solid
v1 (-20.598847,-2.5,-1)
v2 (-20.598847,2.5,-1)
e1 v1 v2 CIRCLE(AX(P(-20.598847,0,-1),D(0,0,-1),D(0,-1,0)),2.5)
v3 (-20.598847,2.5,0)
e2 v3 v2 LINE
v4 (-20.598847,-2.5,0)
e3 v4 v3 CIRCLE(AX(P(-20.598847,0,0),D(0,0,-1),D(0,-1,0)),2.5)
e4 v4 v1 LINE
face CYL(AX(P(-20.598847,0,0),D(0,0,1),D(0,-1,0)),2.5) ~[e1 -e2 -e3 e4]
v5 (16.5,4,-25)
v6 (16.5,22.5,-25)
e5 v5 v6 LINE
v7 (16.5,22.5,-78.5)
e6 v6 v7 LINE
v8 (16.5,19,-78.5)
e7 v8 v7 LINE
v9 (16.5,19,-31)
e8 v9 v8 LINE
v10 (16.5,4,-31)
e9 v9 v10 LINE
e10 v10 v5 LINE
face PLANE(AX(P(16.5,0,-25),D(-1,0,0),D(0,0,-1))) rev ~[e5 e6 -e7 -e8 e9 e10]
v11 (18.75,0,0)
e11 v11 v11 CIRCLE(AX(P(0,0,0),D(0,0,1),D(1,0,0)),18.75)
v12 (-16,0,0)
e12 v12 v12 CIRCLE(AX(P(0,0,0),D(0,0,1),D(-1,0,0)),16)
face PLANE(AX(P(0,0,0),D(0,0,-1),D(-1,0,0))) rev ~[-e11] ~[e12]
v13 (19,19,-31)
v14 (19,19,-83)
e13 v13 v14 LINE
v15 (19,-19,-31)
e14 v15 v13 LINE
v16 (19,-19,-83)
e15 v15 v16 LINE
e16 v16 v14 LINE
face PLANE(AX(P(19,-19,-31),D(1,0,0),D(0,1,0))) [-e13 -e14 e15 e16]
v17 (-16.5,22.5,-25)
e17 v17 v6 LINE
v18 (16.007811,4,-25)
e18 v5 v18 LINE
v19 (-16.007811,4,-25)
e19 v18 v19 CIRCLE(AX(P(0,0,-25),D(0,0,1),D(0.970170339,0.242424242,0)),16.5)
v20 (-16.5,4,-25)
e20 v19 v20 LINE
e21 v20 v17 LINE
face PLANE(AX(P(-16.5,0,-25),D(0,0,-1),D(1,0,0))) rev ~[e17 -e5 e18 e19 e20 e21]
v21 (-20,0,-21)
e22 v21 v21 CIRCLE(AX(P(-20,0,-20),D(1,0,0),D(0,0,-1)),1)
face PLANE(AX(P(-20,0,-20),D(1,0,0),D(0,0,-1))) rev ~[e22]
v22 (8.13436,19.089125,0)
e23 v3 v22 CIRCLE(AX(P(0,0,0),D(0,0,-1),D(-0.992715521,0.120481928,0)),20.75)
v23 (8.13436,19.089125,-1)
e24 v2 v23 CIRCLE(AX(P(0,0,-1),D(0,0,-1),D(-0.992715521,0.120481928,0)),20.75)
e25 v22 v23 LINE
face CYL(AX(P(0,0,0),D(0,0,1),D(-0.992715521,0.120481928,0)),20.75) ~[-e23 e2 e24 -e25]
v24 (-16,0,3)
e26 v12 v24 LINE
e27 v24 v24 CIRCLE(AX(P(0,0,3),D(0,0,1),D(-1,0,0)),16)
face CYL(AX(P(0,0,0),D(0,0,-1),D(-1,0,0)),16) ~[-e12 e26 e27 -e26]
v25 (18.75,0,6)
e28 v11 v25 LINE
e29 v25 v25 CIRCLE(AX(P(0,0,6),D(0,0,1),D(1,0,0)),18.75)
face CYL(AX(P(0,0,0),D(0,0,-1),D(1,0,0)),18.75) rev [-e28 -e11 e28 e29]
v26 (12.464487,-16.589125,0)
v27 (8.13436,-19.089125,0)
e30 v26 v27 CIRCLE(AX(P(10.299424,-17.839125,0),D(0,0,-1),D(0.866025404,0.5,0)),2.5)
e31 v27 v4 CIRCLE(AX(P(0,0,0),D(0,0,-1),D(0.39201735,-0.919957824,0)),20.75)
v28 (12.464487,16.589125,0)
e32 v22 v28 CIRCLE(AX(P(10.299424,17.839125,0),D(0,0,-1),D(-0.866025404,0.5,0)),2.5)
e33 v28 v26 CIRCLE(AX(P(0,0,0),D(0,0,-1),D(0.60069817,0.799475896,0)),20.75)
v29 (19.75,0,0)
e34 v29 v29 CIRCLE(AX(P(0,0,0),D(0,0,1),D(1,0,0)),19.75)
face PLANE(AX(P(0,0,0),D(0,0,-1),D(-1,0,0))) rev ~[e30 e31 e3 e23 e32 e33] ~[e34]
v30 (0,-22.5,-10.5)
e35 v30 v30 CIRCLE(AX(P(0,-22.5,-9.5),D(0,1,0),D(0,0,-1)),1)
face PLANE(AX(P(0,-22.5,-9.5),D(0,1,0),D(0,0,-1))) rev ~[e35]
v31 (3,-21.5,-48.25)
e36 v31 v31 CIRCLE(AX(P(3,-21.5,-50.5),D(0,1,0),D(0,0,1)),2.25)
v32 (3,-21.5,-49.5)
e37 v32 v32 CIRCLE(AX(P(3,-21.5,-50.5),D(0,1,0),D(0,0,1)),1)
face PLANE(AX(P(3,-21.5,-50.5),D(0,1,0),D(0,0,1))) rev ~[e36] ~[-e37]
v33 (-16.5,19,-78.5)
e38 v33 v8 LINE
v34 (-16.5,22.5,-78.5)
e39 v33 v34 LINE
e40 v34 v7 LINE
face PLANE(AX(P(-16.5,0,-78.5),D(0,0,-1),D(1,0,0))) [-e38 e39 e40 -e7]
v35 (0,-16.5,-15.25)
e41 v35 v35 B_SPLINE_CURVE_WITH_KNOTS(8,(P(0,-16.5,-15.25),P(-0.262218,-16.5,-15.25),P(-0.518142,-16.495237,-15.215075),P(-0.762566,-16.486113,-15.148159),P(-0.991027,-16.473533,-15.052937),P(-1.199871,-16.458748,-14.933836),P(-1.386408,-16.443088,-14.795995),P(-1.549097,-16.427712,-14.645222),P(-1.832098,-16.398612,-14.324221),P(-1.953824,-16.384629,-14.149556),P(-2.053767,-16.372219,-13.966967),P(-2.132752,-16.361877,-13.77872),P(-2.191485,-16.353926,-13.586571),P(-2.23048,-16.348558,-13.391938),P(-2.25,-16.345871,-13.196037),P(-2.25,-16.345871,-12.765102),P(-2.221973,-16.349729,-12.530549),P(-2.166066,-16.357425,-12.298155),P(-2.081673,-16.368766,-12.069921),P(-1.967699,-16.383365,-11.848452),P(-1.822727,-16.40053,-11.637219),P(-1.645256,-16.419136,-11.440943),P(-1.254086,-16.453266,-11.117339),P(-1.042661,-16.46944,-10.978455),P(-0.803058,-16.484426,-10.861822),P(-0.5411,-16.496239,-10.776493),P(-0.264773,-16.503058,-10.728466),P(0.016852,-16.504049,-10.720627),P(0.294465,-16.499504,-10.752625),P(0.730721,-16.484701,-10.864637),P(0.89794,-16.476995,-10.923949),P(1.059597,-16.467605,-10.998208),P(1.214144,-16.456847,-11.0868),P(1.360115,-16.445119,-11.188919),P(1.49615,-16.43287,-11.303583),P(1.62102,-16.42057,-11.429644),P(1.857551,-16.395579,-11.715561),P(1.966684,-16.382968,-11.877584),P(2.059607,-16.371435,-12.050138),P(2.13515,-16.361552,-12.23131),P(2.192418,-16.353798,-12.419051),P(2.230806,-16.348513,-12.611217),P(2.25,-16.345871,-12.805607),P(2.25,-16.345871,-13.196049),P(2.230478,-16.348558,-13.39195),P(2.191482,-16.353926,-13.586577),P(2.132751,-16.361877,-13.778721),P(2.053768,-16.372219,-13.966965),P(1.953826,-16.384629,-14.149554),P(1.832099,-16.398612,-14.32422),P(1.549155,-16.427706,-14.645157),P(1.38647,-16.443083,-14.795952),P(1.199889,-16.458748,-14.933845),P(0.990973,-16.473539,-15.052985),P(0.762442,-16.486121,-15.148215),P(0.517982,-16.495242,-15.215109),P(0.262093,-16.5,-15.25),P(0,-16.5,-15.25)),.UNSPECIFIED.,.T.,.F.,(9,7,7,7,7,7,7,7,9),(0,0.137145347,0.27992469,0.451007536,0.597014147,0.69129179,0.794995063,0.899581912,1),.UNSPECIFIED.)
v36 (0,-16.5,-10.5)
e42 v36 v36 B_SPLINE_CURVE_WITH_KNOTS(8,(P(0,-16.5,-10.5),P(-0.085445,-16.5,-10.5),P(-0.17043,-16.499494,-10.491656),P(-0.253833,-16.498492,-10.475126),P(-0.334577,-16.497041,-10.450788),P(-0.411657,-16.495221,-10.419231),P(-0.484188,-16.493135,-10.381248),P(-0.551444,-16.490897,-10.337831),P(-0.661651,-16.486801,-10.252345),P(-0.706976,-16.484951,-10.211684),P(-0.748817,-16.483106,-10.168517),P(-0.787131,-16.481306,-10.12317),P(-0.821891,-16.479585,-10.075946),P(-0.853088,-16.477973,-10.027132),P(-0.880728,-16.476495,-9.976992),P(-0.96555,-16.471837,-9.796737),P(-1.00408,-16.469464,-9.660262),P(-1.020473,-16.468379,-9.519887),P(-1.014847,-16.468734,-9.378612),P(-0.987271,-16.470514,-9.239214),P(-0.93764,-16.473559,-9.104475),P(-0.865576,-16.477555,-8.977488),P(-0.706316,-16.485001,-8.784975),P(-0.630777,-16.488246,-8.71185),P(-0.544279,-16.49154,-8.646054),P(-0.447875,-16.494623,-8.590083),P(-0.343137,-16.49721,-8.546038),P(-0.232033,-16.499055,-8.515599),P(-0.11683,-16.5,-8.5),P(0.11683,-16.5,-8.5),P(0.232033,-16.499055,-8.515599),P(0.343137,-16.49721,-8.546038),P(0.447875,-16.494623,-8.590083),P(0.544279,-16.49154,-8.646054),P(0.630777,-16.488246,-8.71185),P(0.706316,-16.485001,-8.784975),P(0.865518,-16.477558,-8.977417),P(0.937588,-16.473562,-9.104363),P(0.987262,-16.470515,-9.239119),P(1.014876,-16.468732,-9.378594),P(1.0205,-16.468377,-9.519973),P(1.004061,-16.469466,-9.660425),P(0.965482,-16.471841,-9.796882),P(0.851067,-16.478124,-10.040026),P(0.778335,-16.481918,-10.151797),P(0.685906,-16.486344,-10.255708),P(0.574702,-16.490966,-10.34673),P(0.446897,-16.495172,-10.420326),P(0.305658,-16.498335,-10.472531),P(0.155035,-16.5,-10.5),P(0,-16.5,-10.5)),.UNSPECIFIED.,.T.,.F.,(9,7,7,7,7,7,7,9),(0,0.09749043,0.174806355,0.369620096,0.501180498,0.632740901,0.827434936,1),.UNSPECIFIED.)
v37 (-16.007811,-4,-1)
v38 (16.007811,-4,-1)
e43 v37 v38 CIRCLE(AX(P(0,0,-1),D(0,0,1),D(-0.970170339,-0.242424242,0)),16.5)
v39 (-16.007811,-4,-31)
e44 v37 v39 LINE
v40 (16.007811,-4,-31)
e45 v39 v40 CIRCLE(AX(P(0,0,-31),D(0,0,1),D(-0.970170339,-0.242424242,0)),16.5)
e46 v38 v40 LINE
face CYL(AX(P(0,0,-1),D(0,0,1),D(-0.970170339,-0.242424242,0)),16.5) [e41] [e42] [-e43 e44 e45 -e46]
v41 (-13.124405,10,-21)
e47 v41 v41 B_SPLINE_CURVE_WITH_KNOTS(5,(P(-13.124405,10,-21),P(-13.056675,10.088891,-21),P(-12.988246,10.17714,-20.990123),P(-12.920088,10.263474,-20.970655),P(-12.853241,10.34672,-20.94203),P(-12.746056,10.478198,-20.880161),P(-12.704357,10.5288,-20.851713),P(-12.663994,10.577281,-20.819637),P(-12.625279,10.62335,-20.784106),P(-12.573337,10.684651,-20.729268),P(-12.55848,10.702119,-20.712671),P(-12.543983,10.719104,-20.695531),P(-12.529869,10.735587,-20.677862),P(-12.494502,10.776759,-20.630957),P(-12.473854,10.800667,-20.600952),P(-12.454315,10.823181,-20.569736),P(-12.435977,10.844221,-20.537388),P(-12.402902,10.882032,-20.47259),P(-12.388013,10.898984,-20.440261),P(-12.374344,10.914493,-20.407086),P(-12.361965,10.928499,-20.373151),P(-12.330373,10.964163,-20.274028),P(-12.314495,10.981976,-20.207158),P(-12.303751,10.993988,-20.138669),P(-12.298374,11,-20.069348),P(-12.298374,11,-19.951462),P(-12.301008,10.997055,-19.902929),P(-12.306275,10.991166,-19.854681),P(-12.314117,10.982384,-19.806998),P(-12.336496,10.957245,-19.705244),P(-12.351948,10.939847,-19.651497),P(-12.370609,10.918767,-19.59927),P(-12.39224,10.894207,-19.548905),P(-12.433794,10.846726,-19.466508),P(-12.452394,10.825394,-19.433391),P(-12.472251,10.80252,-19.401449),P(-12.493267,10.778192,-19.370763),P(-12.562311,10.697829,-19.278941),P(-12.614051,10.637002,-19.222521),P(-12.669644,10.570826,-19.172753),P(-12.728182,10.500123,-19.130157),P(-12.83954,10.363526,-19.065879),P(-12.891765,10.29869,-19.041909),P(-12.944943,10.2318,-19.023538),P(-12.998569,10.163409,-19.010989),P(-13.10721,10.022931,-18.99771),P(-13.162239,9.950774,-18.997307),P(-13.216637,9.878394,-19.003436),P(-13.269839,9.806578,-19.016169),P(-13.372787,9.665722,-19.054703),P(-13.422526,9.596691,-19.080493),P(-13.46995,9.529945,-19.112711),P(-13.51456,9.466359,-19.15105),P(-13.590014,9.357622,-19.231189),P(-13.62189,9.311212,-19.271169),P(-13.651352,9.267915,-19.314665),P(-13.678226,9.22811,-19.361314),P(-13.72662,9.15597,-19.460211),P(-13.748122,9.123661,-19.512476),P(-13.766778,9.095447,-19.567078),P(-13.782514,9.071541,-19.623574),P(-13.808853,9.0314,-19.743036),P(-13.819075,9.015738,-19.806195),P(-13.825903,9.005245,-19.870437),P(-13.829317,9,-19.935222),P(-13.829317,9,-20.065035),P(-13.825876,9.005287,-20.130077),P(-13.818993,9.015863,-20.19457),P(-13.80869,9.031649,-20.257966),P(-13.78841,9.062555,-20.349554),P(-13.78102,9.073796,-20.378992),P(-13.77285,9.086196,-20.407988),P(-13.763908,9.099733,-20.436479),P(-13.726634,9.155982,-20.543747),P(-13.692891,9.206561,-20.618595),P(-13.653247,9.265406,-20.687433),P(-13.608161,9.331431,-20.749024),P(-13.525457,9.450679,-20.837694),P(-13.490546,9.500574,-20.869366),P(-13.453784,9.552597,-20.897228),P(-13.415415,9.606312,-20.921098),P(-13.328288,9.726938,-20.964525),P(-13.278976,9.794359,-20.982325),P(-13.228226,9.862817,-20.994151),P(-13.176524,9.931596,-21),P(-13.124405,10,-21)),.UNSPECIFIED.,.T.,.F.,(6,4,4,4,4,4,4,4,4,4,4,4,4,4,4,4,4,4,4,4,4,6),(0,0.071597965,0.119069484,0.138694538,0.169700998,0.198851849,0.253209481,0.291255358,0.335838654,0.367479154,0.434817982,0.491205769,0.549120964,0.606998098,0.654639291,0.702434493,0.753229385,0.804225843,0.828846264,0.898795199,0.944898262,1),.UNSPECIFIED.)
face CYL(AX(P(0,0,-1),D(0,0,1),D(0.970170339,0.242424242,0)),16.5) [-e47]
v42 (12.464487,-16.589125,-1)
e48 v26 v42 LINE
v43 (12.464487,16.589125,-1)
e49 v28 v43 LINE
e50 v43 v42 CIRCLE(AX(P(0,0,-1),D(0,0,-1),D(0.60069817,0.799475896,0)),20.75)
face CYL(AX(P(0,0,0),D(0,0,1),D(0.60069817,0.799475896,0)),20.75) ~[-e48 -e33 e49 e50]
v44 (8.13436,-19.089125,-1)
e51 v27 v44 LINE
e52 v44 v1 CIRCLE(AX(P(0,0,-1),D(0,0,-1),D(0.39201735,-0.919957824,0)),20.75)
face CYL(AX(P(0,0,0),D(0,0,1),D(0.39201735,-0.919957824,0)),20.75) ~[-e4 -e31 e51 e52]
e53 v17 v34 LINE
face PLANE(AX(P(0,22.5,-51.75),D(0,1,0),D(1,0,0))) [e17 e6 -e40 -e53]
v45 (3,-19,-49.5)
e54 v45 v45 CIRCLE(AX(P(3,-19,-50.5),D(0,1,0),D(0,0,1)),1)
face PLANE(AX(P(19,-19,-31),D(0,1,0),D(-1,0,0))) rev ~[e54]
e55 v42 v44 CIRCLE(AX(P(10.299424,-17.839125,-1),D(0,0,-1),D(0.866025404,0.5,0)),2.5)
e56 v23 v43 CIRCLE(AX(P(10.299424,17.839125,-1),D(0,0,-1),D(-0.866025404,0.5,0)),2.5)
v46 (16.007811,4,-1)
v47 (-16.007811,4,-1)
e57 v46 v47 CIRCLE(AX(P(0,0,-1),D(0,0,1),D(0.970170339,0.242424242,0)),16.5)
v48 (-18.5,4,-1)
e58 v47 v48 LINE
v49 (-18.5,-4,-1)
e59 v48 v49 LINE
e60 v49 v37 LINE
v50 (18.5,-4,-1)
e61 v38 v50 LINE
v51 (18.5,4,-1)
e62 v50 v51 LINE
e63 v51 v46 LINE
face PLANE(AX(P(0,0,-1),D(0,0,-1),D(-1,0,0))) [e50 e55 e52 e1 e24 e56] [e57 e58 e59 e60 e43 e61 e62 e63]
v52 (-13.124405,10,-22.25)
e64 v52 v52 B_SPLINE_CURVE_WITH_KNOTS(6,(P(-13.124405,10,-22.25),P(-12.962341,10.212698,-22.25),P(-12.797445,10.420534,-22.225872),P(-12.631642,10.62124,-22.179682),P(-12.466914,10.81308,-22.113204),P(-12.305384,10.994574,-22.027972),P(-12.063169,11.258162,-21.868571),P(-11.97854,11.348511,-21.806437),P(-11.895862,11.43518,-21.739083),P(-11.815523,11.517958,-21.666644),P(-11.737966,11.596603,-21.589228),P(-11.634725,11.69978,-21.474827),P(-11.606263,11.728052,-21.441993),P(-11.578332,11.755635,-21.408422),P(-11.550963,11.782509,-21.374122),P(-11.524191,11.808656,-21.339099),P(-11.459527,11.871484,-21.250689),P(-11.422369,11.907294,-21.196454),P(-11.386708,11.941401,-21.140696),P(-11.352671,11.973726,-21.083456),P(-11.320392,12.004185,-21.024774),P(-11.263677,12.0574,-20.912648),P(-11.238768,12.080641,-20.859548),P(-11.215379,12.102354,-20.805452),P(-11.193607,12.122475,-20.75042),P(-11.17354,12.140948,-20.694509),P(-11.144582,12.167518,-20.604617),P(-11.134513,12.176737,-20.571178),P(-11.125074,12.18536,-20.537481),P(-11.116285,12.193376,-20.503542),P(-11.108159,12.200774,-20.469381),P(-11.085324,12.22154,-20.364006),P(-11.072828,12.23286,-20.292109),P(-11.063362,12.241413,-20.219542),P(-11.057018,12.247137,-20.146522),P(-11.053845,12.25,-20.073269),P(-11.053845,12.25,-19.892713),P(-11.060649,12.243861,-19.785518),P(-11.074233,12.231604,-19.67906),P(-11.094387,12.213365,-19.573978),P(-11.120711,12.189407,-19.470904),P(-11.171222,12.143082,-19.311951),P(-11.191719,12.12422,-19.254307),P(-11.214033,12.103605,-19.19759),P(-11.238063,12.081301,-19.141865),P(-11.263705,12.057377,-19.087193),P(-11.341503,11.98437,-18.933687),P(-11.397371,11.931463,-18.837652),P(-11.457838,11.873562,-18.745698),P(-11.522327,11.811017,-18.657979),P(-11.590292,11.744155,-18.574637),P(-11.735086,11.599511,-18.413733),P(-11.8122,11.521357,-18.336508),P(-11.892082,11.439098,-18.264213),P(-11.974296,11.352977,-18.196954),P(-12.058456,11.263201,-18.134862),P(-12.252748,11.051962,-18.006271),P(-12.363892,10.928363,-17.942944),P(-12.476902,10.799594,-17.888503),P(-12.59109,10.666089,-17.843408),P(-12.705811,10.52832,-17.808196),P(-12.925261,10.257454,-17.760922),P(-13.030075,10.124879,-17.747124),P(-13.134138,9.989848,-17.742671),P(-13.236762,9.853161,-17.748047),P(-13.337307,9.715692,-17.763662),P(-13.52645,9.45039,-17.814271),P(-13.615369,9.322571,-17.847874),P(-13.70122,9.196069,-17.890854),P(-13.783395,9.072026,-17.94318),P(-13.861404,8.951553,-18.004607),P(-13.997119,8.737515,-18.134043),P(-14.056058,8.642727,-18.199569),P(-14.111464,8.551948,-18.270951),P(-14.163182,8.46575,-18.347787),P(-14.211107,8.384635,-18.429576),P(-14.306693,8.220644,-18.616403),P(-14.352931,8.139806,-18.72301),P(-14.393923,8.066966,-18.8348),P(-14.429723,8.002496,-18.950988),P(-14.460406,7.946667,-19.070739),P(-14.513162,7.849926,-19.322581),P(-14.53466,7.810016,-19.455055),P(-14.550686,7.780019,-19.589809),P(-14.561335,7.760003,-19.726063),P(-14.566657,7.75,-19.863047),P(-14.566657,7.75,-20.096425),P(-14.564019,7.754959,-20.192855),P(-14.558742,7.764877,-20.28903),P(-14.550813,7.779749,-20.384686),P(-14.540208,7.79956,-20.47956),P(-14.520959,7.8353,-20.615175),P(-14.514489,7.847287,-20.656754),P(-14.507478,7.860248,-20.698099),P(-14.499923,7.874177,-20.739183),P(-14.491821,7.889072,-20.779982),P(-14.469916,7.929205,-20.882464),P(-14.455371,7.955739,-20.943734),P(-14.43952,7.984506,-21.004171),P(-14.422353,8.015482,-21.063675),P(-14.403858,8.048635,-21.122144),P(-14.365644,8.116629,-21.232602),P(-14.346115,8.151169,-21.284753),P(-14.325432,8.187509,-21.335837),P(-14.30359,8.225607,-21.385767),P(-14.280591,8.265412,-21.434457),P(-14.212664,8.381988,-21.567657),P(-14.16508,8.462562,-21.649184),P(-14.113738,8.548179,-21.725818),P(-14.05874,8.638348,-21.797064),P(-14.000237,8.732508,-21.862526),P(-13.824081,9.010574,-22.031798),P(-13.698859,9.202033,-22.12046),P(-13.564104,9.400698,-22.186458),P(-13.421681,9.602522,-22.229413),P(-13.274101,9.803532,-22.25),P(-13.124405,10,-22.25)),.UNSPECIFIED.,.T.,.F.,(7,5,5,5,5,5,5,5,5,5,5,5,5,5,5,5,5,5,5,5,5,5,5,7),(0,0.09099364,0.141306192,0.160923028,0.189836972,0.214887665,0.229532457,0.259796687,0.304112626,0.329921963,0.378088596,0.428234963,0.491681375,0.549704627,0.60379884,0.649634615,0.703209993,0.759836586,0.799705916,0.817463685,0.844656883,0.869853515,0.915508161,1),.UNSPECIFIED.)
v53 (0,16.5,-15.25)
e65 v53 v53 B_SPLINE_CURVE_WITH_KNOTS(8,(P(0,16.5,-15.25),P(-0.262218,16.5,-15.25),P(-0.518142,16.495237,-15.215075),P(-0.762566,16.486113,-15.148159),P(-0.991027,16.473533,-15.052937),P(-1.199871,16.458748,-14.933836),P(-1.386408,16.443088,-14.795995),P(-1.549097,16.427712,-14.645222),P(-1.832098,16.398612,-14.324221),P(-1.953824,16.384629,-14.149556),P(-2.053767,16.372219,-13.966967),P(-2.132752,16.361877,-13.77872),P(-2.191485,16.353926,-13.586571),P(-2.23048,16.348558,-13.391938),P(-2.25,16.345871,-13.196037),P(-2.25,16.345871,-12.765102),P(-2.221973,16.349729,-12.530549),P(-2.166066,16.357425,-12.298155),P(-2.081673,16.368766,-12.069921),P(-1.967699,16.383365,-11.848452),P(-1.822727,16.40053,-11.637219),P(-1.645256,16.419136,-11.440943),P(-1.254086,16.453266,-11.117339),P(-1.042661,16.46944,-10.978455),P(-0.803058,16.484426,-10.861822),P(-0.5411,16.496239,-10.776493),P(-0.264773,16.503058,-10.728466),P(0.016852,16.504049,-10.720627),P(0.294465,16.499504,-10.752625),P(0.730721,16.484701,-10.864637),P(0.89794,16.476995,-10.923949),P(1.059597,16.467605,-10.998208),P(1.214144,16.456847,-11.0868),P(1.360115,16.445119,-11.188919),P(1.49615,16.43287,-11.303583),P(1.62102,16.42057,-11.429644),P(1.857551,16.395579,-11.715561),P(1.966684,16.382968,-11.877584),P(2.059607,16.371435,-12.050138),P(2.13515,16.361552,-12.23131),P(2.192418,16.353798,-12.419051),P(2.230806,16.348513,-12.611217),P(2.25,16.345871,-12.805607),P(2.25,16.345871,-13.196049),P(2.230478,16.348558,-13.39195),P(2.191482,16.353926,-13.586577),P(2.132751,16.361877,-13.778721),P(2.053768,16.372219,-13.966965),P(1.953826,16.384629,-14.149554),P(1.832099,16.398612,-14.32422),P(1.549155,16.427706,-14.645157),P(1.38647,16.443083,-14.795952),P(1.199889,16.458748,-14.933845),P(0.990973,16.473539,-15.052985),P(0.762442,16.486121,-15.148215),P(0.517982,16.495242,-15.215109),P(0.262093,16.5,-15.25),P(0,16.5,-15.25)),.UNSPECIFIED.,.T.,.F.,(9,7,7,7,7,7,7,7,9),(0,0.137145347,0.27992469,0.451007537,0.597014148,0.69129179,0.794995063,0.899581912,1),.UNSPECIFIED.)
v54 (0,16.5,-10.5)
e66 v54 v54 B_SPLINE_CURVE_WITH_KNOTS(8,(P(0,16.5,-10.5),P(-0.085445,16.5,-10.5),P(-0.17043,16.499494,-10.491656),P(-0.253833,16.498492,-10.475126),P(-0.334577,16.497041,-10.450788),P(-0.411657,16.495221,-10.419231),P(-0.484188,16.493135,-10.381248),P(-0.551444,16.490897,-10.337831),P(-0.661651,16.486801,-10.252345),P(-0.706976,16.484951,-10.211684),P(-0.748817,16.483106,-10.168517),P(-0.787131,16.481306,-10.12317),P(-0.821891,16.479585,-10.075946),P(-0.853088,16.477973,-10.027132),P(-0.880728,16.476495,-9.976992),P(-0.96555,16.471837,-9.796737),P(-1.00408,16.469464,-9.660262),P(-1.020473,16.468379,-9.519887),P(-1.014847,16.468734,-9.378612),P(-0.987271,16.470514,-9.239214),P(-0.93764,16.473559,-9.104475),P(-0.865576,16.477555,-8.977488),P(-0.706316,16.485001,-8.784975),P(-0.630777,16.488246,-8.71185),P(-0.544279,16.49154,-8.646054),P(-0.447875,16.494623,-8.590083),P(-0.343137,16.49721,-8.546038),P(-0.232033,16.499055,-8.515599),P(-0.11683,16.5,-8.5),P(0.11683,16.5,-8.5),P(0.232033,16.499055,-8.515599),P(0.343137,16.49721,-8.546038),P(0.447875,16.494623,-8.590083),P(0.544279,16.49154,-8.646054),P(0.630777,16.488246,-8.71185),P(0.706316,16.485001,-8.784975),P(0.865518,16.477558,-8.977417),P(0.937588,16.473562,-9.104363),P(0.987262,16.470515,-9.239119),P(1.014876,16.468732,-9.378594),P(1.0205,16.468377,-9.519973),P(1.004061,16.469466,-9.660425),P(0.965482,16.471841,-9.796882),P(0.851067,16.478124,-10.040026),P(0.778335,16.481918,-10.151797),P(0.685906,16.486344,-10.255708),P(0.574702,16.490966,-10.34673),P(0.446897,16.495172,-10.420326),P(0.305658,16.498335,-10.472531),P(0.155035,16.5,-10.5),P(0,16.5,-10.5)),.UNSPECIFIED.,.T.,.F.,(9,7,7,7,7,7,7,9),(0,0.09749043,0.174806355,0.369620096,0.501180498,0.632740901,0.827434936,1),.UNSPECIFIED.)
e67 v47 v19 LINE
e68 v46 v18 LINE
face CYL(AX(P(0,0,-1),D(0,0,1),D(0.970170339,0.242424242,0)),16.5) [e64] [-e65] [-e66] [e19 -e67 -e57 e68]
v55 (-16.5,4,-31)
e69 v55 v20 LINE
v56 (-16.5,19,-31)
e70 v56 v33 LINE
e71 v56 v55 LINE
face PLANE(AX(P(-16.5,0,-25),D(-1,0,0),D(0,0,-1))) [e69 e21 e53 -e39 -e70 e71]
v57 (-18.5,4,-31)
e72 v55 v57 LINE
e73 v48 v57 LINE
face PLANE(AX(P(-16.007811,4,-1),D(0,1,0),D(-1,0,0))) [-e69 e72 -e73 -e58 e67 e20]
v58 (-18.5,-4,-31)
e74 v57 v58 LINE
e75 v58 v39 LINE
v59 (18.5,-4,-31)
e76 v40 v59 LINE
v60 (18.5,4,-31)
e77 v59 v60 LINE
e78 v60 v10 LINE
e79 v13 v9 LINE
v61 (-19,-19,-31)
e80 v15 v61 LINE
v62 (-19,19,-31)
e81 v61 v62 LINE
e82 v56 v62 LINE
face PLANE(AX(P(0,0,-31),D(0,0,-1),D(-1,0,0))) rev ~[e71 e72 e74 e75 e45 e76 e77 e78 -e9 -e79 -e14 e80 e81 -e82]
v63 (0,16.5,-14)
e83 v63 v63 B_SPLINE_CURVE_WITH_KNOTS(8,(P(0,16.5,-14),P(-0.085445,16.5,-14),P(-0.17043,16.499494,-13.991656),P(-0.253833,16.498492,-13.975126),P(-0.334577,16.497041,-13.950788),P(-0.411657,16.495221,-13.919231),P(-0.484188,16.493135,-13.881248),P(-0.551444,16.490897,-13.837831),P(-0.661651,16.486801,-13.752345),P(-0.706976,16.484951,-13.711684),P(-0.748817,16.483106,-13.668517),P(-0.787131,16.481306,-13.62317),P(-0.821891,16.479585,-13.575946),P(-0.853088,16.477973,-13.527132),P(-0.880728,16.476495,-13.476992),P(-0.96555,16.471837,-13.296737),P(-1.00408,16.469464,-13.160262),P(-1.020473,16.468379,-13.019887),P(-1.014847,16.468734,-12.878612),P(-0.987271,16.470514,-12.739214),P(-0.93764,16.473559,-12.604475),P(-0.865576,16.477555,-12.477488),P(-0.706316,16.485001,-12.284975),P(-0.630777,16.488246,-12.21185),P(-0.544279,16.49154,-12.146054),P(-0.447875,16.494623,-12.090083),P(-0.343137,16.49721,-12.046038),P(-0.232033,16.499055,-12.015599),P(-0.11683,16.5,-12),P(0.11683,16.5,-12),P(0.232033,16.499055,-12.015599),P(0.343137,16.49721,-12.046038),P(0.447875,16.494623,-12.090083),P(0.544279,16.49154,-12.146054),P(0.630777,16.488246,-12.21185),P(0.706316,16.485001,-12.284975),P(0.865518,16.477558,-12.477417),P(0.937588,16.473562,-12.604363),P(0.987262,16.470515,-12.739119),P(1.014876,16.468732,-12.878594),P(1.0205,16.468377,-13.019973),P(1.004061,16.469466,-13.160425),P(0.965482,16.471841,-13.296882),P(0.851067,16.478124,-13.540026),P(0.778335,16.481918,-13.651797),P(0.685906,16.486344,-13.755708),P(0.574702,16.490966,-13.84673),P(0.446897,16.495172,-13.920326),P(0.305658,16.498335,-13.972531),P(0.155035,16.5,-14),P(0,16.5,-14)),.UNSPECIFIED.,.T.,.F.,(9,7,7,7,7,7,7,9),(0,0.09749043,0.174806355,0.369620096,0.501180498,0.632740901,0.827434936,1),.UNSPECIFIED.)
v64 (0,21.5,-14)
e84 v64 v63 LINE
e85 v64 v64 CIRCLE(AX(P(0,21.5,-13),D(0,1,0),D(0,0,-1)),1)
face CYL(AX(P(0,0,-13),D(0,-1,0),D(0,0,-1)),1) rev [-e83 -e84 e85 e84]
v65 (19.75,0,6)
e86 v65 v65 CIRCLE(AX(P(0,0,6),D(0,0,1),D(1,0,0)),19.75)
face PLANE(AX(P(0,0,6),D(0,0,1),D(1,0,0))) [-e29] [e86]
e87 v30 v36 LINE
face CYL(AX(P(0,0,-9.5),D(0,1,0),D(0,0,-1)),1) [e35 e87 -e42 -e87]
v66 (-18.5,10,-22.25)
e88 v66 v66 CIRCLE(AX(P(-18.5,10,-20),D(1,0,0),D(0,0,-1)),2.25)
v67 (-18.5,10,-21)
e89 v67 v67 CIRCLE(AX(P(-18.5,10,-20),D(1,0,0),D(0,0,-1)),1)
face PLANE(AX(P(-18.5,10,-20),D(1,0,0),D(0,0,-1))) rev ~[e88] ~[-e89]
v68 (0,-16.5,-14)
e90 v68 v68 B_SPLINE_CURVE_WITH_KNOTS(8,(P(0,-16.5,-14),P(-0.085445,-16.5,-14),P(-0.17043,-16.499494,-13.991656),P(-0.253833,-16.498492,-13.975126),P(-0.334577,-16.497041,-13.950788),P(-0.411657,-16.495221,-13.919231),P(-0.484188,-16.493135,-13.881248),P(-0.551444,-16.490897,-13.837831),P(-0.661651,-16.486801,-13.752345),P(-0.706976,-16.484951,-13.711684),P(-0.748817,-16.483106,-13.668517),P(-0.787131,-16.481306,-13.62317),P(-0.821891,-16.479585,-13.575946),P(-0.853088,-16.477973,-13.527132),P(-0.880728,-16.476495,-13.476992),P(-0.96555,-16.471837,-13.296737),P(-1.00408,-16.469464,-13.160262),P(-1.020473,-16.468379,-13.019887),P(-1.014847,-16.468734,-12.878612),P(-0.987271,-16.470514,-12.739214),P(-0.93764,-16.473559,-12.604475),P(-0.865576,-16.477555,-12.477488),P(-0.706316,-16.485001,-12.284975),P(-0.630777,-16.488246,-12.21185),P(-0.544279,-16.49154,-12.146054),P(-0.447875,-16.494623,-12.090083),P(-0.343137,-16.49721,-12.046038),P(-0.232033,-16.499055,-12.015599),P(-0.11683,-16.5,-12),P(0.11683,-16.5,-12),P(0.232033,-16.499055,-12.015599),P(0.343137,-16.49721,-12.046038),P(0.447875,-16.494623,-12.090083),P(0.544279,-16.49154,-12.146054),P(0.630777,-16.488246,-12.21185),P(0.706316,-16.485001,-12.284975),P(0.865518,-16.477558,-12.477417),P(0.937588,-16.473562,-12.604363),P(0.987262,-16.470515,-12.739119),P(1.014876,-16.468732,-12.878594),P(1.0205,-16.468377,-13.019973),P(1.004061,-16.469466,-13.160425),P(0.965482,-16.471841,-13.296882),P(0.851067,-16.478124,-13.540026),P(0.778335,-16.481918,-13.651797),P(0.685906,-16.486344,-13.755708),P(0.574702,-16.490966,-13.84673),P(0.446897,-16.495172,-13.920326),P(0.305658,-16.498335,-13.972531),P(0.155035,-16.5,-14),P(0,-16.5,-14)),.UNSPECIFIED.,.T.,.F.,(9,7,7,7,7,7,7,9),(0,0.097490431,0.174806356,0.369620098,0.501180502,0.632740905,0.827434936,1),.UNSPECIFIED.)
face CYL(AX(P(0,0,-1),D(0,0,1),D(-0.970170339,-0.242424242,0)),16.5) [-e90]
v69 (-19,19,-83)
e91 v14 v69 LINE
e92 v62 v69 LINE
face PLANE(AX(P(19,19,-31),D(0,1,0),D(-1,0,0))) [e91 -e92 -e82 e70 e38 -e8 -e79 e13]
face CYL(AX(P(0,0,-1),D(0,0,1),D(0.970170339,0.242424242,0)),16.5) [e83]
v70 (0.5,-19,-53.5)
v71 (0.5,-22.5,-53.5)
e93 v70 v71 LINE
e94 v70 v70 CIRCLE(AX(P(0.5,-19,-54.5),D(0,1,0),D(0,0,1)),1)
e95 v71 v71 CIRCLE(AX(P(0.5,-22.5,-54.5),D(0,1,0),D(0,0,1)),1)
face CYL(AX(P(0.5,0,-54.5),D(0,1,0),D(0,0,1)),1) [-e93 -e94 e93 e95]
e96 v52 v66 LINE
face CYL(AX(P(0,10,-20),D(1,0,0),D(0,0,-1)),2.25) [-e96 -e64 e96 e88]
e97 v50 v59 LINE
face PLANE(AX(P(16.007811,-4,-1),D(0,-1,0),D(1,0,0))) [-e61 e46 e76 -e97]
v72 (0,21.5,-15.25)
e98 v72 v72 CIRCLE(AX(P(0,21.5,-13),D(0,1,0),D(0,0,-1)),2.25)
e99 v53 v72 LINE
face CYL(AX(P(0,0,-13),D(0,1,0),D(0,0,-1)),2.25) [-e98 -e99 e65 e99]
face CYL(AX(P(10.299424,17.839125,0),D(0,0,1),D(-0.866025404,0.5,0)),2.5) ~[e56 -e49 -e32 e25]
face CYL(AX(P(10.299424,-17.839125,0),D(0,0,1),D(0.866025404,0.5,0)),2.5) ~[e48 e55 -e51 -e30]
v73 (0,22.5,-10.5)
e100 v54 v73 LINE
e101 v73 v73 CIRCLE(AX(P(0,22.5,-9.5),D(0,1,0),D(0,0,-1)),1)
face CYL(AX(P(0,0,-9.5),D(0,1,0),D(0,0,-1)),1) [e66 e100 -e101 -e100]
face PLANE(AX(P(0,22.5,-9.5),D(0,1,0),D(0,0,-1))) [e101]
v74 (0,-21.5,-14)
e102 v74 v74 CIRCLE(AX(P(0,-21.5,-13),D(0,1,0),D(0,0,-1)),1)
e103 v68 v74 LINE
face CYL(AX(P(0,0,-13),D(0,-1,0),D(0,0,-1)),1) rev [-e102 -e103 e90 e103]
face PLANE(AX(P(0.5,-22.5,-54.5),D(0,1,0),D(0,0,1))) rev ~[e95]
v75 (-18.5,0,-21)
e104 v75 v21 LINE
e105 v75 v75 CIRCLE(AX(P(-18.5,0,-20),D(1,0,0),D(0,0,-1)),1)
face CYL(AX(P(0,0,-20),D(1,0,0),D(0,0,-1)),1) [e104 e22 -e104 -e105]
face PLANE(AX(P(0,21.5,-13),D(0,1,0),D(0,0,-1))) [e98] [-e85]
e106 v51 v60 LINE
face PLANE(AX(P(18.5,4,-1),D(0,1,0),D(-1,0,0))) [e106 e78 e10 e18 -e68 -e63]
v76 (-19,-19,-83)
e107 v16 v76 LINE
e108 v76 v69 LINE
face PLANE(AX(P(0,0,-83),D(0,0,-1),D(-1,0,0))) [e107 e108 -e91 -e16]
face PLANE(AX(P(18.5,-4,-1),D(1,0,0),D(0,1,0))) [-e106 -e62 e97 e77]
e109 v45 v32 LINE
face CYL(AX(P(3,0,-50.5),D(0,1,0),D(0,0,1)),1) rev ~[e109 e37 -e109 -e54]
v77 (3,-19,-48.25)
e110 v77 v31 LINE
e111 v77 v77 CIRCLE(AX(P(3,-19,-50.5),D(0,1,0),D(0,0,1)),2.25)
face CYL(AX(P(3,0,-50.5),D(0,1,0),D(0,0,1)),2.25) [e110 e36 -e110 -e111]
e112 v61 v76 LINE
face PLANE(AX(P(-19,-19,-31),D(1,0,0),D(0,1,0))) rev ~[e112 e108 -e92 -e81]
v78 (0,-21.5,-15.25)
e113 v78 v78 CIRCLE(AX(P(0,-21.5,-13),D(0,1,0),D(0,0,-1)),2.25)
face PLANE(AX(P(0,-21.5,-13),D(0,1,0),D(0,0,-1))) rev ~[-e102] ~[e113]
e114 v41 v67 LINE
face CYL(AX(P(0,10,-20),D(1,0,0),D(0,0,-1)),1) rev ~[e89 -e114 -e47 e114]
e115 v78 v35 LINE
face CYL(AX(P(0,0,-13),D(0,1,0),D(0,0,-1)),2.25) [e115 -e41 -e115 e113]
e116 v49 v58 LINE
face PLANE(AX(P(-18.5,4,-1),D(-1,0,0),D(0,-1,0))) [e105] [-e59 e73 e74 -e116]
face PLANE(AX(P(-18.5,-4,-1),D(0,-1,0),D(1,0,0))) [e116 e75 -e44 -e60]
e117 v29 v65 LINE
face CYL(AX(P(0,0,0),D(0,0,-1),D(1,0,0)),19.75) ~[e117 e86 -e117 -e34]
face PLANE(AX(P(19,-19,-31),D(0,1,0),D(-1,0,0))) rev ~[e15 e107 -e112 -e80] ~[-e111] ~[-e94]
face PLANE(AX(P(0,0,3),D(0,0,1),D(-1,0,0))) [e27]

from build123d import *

# Parameters (mm, degrees)
SKETCH1_R                 = 19.75
SKETCH1_R_2               = 18.75
BOSS_EXTRUDE1_DEPTH       = 6
BOSS_EXTRUDE2_DEPTH       = 1
BOSS_EXTRUDE3_DEPTH       = 70
SKETCH4_R                 = 2.25
SKETCH4_R_2               = 1
BOSS_EXTRUDE4_DEPTH       = 21.5
SKETCH5_R                 = 1
BOSS_EXTRUDE5_DEPTH       = 22.5
SKETCH6_R                 = 2.25
SKETCH6_R_2               = 1
BOSS_EXTRUDE6_DEPTH       = 21.5
SKETCH7_R                 = 1
BOSS_EXTRUDE7_DEPTH       = 22.5
SKETCH8_R                 = 1
BOSS_EXTRUDE8_DEPTH       = 20
SKETCH9_R                 = 2.25
SKETCH9_R_2               = 1
BOSS_EXTRUDE9_DEPTH       = 18.5
SKETCH10_W                = 33
SKETCH10_H                = 53.5
BOSS_EXTRUDE10_DEPTH      = 22.5
BOSS_EXTRUDE11_DEPTH      = 12
BOSS_EXTRUDE11_DEPTH_BACK = 40
SKETCH11_W                = 38
SKETCH11_H                = 38
SKETCH12_R                = 16
BOSS_EXTRUDE12_DEPTH      = 3


with BuildPart() as part:
    # Sketch1 → Boss-Extrude1 (new body)
    with BuildSketch(Plane.XY):
        Circle(SKETCH1_R)
        Circle(SKETCH1_R_2, mode=Mode.SUBTRACT)
    extrude(amount=BOSS_EXTRUDE1_DEPTH)

    # Sketch2 → Boss-Extrude2 (add)
    with BuildSketch(Plane(origin=(0, 0, 0), x_dir=(-1, 0, 0), z_dir=(0, 0, -1))):
        with BuildLine():
            ThreePointArc((-12.464487037, 16.589124838), (-20.75, 0), (-12.464487037, -16.589124838))
            ThreePointArc((-12.464487037, -16.589124838), (-11.549423528, -20.004188348), (-8.134360018, -19.089124838))
            ThreePointArc((-8.134360018, -19.089124838), (10.375, -17.970027129), (20.598847055, -2.5))
            ThreePointArc((20.598847055, -2.5), (23.098847055, 0), (20.598847055, 2.5))
            ThreePointArc((20.598847055, 2.5), (10.375, 17.970027129), (-8.134360018, 19.089124838))
            ThreePointArc((-8.134360018, 19.089124838), (-11.549423528, 20.004188348), (-12.464487037, 16.589124838))
        make_face()
    extrude(amount=BOSS_EXTRUDE2_DEPTH)

    # Sketch3 → Boss-Extrude3 (add)
    with BuildSketch(Plane(origin=(0, 0, -1), x_dir=(-1, 0, 0), z_dir=(0, 0, -1))):
        with BuildLine():
            Line((16.007810594, 4), (18.5, 4))
            Line((18.5, 4), (18.5, -4))
            Line((18.5, -4), (16.007810594, -4))
            ThreePointArc((16.007810594, -4), (0, -16.5), (-16.007810594, -4))
            Line((-16.007810594, -4), (-18.5, -4))
            Line((-18.5, -4), (-18.5, 4))
            Line((-18.5, 4), (-16.007810594, 4))
            ThreePointArc((-16.007810594, 4), (0, 16.5), (16.007810594, 4))
        make_face()
    extrude(amount=BOSS_EXTRUDE3_DEPTH)

    # Sketch4 → Boss-Extrude4 (add, symmetric)
    with BuildSketch(Plane(origin=(0, 0, 0), x_dir=(1, 0, 0), z_dir=(0, 1, 0))):
        with Locations(Location((0, 13, 0), (0, 0, 90))):
            Circle(SKETCH4_R)
        with Locations(Location((0, 13, 0), (0, 0, 90))):
            Circle(SKETCH4_R_2, mode=Mode.SUBTRACT)
    extrude(amount=BOSS_EXTRUDE4_DEPTH, both=True)

    # Sketch5 → Boss-Extrude5 (add, symmetric)
    with BuildSketch(Plane(origin=(0, 0, 0), x_dir=(1, 0, 0), z_dir=(0, 1, 0))):
        with Locations(Location((0, 9.5, 0), (0, 0, 90))):
            Circle(SKETCH5_R)
    extrude(amount=BOSS_EXTRUDE5_DEPTH, both=True)

    # Sketch6 → Boss-Extrude6 (add)
    with BuildSketch(Plane(origin=(0, 0, 0), x_dir=(1, 0, 0), z_dir=(0, 1, 0))):
        with Locations(Location((3, 50.5, 0), (0, 0, 270))):
            Circle(SKETCH6_R)
        with Locations(Location((3, 50.5, 0), (0, 0, 270))):
            Circle(SKETCH6_R_2, mode=Mode.SUBTRACT)
    extrude(amount=-BOSS_EXTRUDE6_DEPTH)

    # Sketch7 → Boss-Extrude7 (add)
    with BuildSketch(Plane(origin=(0, 0, 0), x_dir=(1, 0, 0), z_dir=(0, 1, 0))):
        with Locations(Location((0.5, 54.5, 0), (0, 0, 270))):
            Circle(SKETCH7_R)
    extrude(amount=-BOSS_EXTRUDE7_DEPTH)

    # Sketch8 → Boss-Extrude8 (add)
    with BuildSketch(Plane(origin=(0, 0, 0), x_dir=(0, 0, -1), z_dir=(1, 0, 0))):
        with Locations((20, 0)):
            Circle(SKETCH8_R)
    extrude(amount=-BOSS_EXTRUDE8_DEPTH)

    # Sketch9 → Boss-Extrude9 (add)
    with BuildSketch(Plane(origin=(0, 0, 0), x_dir=(0, 0, -1), z_dir=(1, 0, 0))):
        with Locations((20, 10)):
            Circle(SKETCH9_R)
        with Locations((20, 10)):
            Circle(SKETCH9_R_2, mode=Mode.SUBTRACT)
    extrude(amount=-BOSS_EXTRUDE9_DEPTH)

    # Sketch10 → Boss-Extrude10 (add)
    with BuildSketch(Plane(origin=(0, 0, 0), x_dir=(1, 0, 0), z_dir=(0, 1, 0))):
        with Locations((0, 51.75)):
            Rectangle(SKETCH10_W, SKETCH10_H)
    extrude(amount=BOSS_EXTRUDE10_DEPTH)

    # Sketch11 → Boss-Extrude11 (add, two sides: drawn at the far end of the back side and taken through both)
    with BuildSketch(Plane(origin=(0, 0, -71), x_dir=(-1, 0, 0), z_dir=(0, 0, -1)).offset(-BOSS_EXTRUDE11_DEPTH_BACK)):
        Rectangle(SKETCH11_W, SKETCH11_H)
    extrude(amount=BOSS_EXTRUDE11_DEPTH + BOSS_EXTRUDE11_DEPTH_BACK)

    # Sketch12 → Boss-Extrude12 (add)
    with BuildSketch(Plane.XY):
        with Locations(Location((0, 0, 0), (0, 0, 180))):
            Circle(SKETCH12_R)
    extrude(amount=BOSS_EXTRUDE12_DEPTH)


solid = part.part
